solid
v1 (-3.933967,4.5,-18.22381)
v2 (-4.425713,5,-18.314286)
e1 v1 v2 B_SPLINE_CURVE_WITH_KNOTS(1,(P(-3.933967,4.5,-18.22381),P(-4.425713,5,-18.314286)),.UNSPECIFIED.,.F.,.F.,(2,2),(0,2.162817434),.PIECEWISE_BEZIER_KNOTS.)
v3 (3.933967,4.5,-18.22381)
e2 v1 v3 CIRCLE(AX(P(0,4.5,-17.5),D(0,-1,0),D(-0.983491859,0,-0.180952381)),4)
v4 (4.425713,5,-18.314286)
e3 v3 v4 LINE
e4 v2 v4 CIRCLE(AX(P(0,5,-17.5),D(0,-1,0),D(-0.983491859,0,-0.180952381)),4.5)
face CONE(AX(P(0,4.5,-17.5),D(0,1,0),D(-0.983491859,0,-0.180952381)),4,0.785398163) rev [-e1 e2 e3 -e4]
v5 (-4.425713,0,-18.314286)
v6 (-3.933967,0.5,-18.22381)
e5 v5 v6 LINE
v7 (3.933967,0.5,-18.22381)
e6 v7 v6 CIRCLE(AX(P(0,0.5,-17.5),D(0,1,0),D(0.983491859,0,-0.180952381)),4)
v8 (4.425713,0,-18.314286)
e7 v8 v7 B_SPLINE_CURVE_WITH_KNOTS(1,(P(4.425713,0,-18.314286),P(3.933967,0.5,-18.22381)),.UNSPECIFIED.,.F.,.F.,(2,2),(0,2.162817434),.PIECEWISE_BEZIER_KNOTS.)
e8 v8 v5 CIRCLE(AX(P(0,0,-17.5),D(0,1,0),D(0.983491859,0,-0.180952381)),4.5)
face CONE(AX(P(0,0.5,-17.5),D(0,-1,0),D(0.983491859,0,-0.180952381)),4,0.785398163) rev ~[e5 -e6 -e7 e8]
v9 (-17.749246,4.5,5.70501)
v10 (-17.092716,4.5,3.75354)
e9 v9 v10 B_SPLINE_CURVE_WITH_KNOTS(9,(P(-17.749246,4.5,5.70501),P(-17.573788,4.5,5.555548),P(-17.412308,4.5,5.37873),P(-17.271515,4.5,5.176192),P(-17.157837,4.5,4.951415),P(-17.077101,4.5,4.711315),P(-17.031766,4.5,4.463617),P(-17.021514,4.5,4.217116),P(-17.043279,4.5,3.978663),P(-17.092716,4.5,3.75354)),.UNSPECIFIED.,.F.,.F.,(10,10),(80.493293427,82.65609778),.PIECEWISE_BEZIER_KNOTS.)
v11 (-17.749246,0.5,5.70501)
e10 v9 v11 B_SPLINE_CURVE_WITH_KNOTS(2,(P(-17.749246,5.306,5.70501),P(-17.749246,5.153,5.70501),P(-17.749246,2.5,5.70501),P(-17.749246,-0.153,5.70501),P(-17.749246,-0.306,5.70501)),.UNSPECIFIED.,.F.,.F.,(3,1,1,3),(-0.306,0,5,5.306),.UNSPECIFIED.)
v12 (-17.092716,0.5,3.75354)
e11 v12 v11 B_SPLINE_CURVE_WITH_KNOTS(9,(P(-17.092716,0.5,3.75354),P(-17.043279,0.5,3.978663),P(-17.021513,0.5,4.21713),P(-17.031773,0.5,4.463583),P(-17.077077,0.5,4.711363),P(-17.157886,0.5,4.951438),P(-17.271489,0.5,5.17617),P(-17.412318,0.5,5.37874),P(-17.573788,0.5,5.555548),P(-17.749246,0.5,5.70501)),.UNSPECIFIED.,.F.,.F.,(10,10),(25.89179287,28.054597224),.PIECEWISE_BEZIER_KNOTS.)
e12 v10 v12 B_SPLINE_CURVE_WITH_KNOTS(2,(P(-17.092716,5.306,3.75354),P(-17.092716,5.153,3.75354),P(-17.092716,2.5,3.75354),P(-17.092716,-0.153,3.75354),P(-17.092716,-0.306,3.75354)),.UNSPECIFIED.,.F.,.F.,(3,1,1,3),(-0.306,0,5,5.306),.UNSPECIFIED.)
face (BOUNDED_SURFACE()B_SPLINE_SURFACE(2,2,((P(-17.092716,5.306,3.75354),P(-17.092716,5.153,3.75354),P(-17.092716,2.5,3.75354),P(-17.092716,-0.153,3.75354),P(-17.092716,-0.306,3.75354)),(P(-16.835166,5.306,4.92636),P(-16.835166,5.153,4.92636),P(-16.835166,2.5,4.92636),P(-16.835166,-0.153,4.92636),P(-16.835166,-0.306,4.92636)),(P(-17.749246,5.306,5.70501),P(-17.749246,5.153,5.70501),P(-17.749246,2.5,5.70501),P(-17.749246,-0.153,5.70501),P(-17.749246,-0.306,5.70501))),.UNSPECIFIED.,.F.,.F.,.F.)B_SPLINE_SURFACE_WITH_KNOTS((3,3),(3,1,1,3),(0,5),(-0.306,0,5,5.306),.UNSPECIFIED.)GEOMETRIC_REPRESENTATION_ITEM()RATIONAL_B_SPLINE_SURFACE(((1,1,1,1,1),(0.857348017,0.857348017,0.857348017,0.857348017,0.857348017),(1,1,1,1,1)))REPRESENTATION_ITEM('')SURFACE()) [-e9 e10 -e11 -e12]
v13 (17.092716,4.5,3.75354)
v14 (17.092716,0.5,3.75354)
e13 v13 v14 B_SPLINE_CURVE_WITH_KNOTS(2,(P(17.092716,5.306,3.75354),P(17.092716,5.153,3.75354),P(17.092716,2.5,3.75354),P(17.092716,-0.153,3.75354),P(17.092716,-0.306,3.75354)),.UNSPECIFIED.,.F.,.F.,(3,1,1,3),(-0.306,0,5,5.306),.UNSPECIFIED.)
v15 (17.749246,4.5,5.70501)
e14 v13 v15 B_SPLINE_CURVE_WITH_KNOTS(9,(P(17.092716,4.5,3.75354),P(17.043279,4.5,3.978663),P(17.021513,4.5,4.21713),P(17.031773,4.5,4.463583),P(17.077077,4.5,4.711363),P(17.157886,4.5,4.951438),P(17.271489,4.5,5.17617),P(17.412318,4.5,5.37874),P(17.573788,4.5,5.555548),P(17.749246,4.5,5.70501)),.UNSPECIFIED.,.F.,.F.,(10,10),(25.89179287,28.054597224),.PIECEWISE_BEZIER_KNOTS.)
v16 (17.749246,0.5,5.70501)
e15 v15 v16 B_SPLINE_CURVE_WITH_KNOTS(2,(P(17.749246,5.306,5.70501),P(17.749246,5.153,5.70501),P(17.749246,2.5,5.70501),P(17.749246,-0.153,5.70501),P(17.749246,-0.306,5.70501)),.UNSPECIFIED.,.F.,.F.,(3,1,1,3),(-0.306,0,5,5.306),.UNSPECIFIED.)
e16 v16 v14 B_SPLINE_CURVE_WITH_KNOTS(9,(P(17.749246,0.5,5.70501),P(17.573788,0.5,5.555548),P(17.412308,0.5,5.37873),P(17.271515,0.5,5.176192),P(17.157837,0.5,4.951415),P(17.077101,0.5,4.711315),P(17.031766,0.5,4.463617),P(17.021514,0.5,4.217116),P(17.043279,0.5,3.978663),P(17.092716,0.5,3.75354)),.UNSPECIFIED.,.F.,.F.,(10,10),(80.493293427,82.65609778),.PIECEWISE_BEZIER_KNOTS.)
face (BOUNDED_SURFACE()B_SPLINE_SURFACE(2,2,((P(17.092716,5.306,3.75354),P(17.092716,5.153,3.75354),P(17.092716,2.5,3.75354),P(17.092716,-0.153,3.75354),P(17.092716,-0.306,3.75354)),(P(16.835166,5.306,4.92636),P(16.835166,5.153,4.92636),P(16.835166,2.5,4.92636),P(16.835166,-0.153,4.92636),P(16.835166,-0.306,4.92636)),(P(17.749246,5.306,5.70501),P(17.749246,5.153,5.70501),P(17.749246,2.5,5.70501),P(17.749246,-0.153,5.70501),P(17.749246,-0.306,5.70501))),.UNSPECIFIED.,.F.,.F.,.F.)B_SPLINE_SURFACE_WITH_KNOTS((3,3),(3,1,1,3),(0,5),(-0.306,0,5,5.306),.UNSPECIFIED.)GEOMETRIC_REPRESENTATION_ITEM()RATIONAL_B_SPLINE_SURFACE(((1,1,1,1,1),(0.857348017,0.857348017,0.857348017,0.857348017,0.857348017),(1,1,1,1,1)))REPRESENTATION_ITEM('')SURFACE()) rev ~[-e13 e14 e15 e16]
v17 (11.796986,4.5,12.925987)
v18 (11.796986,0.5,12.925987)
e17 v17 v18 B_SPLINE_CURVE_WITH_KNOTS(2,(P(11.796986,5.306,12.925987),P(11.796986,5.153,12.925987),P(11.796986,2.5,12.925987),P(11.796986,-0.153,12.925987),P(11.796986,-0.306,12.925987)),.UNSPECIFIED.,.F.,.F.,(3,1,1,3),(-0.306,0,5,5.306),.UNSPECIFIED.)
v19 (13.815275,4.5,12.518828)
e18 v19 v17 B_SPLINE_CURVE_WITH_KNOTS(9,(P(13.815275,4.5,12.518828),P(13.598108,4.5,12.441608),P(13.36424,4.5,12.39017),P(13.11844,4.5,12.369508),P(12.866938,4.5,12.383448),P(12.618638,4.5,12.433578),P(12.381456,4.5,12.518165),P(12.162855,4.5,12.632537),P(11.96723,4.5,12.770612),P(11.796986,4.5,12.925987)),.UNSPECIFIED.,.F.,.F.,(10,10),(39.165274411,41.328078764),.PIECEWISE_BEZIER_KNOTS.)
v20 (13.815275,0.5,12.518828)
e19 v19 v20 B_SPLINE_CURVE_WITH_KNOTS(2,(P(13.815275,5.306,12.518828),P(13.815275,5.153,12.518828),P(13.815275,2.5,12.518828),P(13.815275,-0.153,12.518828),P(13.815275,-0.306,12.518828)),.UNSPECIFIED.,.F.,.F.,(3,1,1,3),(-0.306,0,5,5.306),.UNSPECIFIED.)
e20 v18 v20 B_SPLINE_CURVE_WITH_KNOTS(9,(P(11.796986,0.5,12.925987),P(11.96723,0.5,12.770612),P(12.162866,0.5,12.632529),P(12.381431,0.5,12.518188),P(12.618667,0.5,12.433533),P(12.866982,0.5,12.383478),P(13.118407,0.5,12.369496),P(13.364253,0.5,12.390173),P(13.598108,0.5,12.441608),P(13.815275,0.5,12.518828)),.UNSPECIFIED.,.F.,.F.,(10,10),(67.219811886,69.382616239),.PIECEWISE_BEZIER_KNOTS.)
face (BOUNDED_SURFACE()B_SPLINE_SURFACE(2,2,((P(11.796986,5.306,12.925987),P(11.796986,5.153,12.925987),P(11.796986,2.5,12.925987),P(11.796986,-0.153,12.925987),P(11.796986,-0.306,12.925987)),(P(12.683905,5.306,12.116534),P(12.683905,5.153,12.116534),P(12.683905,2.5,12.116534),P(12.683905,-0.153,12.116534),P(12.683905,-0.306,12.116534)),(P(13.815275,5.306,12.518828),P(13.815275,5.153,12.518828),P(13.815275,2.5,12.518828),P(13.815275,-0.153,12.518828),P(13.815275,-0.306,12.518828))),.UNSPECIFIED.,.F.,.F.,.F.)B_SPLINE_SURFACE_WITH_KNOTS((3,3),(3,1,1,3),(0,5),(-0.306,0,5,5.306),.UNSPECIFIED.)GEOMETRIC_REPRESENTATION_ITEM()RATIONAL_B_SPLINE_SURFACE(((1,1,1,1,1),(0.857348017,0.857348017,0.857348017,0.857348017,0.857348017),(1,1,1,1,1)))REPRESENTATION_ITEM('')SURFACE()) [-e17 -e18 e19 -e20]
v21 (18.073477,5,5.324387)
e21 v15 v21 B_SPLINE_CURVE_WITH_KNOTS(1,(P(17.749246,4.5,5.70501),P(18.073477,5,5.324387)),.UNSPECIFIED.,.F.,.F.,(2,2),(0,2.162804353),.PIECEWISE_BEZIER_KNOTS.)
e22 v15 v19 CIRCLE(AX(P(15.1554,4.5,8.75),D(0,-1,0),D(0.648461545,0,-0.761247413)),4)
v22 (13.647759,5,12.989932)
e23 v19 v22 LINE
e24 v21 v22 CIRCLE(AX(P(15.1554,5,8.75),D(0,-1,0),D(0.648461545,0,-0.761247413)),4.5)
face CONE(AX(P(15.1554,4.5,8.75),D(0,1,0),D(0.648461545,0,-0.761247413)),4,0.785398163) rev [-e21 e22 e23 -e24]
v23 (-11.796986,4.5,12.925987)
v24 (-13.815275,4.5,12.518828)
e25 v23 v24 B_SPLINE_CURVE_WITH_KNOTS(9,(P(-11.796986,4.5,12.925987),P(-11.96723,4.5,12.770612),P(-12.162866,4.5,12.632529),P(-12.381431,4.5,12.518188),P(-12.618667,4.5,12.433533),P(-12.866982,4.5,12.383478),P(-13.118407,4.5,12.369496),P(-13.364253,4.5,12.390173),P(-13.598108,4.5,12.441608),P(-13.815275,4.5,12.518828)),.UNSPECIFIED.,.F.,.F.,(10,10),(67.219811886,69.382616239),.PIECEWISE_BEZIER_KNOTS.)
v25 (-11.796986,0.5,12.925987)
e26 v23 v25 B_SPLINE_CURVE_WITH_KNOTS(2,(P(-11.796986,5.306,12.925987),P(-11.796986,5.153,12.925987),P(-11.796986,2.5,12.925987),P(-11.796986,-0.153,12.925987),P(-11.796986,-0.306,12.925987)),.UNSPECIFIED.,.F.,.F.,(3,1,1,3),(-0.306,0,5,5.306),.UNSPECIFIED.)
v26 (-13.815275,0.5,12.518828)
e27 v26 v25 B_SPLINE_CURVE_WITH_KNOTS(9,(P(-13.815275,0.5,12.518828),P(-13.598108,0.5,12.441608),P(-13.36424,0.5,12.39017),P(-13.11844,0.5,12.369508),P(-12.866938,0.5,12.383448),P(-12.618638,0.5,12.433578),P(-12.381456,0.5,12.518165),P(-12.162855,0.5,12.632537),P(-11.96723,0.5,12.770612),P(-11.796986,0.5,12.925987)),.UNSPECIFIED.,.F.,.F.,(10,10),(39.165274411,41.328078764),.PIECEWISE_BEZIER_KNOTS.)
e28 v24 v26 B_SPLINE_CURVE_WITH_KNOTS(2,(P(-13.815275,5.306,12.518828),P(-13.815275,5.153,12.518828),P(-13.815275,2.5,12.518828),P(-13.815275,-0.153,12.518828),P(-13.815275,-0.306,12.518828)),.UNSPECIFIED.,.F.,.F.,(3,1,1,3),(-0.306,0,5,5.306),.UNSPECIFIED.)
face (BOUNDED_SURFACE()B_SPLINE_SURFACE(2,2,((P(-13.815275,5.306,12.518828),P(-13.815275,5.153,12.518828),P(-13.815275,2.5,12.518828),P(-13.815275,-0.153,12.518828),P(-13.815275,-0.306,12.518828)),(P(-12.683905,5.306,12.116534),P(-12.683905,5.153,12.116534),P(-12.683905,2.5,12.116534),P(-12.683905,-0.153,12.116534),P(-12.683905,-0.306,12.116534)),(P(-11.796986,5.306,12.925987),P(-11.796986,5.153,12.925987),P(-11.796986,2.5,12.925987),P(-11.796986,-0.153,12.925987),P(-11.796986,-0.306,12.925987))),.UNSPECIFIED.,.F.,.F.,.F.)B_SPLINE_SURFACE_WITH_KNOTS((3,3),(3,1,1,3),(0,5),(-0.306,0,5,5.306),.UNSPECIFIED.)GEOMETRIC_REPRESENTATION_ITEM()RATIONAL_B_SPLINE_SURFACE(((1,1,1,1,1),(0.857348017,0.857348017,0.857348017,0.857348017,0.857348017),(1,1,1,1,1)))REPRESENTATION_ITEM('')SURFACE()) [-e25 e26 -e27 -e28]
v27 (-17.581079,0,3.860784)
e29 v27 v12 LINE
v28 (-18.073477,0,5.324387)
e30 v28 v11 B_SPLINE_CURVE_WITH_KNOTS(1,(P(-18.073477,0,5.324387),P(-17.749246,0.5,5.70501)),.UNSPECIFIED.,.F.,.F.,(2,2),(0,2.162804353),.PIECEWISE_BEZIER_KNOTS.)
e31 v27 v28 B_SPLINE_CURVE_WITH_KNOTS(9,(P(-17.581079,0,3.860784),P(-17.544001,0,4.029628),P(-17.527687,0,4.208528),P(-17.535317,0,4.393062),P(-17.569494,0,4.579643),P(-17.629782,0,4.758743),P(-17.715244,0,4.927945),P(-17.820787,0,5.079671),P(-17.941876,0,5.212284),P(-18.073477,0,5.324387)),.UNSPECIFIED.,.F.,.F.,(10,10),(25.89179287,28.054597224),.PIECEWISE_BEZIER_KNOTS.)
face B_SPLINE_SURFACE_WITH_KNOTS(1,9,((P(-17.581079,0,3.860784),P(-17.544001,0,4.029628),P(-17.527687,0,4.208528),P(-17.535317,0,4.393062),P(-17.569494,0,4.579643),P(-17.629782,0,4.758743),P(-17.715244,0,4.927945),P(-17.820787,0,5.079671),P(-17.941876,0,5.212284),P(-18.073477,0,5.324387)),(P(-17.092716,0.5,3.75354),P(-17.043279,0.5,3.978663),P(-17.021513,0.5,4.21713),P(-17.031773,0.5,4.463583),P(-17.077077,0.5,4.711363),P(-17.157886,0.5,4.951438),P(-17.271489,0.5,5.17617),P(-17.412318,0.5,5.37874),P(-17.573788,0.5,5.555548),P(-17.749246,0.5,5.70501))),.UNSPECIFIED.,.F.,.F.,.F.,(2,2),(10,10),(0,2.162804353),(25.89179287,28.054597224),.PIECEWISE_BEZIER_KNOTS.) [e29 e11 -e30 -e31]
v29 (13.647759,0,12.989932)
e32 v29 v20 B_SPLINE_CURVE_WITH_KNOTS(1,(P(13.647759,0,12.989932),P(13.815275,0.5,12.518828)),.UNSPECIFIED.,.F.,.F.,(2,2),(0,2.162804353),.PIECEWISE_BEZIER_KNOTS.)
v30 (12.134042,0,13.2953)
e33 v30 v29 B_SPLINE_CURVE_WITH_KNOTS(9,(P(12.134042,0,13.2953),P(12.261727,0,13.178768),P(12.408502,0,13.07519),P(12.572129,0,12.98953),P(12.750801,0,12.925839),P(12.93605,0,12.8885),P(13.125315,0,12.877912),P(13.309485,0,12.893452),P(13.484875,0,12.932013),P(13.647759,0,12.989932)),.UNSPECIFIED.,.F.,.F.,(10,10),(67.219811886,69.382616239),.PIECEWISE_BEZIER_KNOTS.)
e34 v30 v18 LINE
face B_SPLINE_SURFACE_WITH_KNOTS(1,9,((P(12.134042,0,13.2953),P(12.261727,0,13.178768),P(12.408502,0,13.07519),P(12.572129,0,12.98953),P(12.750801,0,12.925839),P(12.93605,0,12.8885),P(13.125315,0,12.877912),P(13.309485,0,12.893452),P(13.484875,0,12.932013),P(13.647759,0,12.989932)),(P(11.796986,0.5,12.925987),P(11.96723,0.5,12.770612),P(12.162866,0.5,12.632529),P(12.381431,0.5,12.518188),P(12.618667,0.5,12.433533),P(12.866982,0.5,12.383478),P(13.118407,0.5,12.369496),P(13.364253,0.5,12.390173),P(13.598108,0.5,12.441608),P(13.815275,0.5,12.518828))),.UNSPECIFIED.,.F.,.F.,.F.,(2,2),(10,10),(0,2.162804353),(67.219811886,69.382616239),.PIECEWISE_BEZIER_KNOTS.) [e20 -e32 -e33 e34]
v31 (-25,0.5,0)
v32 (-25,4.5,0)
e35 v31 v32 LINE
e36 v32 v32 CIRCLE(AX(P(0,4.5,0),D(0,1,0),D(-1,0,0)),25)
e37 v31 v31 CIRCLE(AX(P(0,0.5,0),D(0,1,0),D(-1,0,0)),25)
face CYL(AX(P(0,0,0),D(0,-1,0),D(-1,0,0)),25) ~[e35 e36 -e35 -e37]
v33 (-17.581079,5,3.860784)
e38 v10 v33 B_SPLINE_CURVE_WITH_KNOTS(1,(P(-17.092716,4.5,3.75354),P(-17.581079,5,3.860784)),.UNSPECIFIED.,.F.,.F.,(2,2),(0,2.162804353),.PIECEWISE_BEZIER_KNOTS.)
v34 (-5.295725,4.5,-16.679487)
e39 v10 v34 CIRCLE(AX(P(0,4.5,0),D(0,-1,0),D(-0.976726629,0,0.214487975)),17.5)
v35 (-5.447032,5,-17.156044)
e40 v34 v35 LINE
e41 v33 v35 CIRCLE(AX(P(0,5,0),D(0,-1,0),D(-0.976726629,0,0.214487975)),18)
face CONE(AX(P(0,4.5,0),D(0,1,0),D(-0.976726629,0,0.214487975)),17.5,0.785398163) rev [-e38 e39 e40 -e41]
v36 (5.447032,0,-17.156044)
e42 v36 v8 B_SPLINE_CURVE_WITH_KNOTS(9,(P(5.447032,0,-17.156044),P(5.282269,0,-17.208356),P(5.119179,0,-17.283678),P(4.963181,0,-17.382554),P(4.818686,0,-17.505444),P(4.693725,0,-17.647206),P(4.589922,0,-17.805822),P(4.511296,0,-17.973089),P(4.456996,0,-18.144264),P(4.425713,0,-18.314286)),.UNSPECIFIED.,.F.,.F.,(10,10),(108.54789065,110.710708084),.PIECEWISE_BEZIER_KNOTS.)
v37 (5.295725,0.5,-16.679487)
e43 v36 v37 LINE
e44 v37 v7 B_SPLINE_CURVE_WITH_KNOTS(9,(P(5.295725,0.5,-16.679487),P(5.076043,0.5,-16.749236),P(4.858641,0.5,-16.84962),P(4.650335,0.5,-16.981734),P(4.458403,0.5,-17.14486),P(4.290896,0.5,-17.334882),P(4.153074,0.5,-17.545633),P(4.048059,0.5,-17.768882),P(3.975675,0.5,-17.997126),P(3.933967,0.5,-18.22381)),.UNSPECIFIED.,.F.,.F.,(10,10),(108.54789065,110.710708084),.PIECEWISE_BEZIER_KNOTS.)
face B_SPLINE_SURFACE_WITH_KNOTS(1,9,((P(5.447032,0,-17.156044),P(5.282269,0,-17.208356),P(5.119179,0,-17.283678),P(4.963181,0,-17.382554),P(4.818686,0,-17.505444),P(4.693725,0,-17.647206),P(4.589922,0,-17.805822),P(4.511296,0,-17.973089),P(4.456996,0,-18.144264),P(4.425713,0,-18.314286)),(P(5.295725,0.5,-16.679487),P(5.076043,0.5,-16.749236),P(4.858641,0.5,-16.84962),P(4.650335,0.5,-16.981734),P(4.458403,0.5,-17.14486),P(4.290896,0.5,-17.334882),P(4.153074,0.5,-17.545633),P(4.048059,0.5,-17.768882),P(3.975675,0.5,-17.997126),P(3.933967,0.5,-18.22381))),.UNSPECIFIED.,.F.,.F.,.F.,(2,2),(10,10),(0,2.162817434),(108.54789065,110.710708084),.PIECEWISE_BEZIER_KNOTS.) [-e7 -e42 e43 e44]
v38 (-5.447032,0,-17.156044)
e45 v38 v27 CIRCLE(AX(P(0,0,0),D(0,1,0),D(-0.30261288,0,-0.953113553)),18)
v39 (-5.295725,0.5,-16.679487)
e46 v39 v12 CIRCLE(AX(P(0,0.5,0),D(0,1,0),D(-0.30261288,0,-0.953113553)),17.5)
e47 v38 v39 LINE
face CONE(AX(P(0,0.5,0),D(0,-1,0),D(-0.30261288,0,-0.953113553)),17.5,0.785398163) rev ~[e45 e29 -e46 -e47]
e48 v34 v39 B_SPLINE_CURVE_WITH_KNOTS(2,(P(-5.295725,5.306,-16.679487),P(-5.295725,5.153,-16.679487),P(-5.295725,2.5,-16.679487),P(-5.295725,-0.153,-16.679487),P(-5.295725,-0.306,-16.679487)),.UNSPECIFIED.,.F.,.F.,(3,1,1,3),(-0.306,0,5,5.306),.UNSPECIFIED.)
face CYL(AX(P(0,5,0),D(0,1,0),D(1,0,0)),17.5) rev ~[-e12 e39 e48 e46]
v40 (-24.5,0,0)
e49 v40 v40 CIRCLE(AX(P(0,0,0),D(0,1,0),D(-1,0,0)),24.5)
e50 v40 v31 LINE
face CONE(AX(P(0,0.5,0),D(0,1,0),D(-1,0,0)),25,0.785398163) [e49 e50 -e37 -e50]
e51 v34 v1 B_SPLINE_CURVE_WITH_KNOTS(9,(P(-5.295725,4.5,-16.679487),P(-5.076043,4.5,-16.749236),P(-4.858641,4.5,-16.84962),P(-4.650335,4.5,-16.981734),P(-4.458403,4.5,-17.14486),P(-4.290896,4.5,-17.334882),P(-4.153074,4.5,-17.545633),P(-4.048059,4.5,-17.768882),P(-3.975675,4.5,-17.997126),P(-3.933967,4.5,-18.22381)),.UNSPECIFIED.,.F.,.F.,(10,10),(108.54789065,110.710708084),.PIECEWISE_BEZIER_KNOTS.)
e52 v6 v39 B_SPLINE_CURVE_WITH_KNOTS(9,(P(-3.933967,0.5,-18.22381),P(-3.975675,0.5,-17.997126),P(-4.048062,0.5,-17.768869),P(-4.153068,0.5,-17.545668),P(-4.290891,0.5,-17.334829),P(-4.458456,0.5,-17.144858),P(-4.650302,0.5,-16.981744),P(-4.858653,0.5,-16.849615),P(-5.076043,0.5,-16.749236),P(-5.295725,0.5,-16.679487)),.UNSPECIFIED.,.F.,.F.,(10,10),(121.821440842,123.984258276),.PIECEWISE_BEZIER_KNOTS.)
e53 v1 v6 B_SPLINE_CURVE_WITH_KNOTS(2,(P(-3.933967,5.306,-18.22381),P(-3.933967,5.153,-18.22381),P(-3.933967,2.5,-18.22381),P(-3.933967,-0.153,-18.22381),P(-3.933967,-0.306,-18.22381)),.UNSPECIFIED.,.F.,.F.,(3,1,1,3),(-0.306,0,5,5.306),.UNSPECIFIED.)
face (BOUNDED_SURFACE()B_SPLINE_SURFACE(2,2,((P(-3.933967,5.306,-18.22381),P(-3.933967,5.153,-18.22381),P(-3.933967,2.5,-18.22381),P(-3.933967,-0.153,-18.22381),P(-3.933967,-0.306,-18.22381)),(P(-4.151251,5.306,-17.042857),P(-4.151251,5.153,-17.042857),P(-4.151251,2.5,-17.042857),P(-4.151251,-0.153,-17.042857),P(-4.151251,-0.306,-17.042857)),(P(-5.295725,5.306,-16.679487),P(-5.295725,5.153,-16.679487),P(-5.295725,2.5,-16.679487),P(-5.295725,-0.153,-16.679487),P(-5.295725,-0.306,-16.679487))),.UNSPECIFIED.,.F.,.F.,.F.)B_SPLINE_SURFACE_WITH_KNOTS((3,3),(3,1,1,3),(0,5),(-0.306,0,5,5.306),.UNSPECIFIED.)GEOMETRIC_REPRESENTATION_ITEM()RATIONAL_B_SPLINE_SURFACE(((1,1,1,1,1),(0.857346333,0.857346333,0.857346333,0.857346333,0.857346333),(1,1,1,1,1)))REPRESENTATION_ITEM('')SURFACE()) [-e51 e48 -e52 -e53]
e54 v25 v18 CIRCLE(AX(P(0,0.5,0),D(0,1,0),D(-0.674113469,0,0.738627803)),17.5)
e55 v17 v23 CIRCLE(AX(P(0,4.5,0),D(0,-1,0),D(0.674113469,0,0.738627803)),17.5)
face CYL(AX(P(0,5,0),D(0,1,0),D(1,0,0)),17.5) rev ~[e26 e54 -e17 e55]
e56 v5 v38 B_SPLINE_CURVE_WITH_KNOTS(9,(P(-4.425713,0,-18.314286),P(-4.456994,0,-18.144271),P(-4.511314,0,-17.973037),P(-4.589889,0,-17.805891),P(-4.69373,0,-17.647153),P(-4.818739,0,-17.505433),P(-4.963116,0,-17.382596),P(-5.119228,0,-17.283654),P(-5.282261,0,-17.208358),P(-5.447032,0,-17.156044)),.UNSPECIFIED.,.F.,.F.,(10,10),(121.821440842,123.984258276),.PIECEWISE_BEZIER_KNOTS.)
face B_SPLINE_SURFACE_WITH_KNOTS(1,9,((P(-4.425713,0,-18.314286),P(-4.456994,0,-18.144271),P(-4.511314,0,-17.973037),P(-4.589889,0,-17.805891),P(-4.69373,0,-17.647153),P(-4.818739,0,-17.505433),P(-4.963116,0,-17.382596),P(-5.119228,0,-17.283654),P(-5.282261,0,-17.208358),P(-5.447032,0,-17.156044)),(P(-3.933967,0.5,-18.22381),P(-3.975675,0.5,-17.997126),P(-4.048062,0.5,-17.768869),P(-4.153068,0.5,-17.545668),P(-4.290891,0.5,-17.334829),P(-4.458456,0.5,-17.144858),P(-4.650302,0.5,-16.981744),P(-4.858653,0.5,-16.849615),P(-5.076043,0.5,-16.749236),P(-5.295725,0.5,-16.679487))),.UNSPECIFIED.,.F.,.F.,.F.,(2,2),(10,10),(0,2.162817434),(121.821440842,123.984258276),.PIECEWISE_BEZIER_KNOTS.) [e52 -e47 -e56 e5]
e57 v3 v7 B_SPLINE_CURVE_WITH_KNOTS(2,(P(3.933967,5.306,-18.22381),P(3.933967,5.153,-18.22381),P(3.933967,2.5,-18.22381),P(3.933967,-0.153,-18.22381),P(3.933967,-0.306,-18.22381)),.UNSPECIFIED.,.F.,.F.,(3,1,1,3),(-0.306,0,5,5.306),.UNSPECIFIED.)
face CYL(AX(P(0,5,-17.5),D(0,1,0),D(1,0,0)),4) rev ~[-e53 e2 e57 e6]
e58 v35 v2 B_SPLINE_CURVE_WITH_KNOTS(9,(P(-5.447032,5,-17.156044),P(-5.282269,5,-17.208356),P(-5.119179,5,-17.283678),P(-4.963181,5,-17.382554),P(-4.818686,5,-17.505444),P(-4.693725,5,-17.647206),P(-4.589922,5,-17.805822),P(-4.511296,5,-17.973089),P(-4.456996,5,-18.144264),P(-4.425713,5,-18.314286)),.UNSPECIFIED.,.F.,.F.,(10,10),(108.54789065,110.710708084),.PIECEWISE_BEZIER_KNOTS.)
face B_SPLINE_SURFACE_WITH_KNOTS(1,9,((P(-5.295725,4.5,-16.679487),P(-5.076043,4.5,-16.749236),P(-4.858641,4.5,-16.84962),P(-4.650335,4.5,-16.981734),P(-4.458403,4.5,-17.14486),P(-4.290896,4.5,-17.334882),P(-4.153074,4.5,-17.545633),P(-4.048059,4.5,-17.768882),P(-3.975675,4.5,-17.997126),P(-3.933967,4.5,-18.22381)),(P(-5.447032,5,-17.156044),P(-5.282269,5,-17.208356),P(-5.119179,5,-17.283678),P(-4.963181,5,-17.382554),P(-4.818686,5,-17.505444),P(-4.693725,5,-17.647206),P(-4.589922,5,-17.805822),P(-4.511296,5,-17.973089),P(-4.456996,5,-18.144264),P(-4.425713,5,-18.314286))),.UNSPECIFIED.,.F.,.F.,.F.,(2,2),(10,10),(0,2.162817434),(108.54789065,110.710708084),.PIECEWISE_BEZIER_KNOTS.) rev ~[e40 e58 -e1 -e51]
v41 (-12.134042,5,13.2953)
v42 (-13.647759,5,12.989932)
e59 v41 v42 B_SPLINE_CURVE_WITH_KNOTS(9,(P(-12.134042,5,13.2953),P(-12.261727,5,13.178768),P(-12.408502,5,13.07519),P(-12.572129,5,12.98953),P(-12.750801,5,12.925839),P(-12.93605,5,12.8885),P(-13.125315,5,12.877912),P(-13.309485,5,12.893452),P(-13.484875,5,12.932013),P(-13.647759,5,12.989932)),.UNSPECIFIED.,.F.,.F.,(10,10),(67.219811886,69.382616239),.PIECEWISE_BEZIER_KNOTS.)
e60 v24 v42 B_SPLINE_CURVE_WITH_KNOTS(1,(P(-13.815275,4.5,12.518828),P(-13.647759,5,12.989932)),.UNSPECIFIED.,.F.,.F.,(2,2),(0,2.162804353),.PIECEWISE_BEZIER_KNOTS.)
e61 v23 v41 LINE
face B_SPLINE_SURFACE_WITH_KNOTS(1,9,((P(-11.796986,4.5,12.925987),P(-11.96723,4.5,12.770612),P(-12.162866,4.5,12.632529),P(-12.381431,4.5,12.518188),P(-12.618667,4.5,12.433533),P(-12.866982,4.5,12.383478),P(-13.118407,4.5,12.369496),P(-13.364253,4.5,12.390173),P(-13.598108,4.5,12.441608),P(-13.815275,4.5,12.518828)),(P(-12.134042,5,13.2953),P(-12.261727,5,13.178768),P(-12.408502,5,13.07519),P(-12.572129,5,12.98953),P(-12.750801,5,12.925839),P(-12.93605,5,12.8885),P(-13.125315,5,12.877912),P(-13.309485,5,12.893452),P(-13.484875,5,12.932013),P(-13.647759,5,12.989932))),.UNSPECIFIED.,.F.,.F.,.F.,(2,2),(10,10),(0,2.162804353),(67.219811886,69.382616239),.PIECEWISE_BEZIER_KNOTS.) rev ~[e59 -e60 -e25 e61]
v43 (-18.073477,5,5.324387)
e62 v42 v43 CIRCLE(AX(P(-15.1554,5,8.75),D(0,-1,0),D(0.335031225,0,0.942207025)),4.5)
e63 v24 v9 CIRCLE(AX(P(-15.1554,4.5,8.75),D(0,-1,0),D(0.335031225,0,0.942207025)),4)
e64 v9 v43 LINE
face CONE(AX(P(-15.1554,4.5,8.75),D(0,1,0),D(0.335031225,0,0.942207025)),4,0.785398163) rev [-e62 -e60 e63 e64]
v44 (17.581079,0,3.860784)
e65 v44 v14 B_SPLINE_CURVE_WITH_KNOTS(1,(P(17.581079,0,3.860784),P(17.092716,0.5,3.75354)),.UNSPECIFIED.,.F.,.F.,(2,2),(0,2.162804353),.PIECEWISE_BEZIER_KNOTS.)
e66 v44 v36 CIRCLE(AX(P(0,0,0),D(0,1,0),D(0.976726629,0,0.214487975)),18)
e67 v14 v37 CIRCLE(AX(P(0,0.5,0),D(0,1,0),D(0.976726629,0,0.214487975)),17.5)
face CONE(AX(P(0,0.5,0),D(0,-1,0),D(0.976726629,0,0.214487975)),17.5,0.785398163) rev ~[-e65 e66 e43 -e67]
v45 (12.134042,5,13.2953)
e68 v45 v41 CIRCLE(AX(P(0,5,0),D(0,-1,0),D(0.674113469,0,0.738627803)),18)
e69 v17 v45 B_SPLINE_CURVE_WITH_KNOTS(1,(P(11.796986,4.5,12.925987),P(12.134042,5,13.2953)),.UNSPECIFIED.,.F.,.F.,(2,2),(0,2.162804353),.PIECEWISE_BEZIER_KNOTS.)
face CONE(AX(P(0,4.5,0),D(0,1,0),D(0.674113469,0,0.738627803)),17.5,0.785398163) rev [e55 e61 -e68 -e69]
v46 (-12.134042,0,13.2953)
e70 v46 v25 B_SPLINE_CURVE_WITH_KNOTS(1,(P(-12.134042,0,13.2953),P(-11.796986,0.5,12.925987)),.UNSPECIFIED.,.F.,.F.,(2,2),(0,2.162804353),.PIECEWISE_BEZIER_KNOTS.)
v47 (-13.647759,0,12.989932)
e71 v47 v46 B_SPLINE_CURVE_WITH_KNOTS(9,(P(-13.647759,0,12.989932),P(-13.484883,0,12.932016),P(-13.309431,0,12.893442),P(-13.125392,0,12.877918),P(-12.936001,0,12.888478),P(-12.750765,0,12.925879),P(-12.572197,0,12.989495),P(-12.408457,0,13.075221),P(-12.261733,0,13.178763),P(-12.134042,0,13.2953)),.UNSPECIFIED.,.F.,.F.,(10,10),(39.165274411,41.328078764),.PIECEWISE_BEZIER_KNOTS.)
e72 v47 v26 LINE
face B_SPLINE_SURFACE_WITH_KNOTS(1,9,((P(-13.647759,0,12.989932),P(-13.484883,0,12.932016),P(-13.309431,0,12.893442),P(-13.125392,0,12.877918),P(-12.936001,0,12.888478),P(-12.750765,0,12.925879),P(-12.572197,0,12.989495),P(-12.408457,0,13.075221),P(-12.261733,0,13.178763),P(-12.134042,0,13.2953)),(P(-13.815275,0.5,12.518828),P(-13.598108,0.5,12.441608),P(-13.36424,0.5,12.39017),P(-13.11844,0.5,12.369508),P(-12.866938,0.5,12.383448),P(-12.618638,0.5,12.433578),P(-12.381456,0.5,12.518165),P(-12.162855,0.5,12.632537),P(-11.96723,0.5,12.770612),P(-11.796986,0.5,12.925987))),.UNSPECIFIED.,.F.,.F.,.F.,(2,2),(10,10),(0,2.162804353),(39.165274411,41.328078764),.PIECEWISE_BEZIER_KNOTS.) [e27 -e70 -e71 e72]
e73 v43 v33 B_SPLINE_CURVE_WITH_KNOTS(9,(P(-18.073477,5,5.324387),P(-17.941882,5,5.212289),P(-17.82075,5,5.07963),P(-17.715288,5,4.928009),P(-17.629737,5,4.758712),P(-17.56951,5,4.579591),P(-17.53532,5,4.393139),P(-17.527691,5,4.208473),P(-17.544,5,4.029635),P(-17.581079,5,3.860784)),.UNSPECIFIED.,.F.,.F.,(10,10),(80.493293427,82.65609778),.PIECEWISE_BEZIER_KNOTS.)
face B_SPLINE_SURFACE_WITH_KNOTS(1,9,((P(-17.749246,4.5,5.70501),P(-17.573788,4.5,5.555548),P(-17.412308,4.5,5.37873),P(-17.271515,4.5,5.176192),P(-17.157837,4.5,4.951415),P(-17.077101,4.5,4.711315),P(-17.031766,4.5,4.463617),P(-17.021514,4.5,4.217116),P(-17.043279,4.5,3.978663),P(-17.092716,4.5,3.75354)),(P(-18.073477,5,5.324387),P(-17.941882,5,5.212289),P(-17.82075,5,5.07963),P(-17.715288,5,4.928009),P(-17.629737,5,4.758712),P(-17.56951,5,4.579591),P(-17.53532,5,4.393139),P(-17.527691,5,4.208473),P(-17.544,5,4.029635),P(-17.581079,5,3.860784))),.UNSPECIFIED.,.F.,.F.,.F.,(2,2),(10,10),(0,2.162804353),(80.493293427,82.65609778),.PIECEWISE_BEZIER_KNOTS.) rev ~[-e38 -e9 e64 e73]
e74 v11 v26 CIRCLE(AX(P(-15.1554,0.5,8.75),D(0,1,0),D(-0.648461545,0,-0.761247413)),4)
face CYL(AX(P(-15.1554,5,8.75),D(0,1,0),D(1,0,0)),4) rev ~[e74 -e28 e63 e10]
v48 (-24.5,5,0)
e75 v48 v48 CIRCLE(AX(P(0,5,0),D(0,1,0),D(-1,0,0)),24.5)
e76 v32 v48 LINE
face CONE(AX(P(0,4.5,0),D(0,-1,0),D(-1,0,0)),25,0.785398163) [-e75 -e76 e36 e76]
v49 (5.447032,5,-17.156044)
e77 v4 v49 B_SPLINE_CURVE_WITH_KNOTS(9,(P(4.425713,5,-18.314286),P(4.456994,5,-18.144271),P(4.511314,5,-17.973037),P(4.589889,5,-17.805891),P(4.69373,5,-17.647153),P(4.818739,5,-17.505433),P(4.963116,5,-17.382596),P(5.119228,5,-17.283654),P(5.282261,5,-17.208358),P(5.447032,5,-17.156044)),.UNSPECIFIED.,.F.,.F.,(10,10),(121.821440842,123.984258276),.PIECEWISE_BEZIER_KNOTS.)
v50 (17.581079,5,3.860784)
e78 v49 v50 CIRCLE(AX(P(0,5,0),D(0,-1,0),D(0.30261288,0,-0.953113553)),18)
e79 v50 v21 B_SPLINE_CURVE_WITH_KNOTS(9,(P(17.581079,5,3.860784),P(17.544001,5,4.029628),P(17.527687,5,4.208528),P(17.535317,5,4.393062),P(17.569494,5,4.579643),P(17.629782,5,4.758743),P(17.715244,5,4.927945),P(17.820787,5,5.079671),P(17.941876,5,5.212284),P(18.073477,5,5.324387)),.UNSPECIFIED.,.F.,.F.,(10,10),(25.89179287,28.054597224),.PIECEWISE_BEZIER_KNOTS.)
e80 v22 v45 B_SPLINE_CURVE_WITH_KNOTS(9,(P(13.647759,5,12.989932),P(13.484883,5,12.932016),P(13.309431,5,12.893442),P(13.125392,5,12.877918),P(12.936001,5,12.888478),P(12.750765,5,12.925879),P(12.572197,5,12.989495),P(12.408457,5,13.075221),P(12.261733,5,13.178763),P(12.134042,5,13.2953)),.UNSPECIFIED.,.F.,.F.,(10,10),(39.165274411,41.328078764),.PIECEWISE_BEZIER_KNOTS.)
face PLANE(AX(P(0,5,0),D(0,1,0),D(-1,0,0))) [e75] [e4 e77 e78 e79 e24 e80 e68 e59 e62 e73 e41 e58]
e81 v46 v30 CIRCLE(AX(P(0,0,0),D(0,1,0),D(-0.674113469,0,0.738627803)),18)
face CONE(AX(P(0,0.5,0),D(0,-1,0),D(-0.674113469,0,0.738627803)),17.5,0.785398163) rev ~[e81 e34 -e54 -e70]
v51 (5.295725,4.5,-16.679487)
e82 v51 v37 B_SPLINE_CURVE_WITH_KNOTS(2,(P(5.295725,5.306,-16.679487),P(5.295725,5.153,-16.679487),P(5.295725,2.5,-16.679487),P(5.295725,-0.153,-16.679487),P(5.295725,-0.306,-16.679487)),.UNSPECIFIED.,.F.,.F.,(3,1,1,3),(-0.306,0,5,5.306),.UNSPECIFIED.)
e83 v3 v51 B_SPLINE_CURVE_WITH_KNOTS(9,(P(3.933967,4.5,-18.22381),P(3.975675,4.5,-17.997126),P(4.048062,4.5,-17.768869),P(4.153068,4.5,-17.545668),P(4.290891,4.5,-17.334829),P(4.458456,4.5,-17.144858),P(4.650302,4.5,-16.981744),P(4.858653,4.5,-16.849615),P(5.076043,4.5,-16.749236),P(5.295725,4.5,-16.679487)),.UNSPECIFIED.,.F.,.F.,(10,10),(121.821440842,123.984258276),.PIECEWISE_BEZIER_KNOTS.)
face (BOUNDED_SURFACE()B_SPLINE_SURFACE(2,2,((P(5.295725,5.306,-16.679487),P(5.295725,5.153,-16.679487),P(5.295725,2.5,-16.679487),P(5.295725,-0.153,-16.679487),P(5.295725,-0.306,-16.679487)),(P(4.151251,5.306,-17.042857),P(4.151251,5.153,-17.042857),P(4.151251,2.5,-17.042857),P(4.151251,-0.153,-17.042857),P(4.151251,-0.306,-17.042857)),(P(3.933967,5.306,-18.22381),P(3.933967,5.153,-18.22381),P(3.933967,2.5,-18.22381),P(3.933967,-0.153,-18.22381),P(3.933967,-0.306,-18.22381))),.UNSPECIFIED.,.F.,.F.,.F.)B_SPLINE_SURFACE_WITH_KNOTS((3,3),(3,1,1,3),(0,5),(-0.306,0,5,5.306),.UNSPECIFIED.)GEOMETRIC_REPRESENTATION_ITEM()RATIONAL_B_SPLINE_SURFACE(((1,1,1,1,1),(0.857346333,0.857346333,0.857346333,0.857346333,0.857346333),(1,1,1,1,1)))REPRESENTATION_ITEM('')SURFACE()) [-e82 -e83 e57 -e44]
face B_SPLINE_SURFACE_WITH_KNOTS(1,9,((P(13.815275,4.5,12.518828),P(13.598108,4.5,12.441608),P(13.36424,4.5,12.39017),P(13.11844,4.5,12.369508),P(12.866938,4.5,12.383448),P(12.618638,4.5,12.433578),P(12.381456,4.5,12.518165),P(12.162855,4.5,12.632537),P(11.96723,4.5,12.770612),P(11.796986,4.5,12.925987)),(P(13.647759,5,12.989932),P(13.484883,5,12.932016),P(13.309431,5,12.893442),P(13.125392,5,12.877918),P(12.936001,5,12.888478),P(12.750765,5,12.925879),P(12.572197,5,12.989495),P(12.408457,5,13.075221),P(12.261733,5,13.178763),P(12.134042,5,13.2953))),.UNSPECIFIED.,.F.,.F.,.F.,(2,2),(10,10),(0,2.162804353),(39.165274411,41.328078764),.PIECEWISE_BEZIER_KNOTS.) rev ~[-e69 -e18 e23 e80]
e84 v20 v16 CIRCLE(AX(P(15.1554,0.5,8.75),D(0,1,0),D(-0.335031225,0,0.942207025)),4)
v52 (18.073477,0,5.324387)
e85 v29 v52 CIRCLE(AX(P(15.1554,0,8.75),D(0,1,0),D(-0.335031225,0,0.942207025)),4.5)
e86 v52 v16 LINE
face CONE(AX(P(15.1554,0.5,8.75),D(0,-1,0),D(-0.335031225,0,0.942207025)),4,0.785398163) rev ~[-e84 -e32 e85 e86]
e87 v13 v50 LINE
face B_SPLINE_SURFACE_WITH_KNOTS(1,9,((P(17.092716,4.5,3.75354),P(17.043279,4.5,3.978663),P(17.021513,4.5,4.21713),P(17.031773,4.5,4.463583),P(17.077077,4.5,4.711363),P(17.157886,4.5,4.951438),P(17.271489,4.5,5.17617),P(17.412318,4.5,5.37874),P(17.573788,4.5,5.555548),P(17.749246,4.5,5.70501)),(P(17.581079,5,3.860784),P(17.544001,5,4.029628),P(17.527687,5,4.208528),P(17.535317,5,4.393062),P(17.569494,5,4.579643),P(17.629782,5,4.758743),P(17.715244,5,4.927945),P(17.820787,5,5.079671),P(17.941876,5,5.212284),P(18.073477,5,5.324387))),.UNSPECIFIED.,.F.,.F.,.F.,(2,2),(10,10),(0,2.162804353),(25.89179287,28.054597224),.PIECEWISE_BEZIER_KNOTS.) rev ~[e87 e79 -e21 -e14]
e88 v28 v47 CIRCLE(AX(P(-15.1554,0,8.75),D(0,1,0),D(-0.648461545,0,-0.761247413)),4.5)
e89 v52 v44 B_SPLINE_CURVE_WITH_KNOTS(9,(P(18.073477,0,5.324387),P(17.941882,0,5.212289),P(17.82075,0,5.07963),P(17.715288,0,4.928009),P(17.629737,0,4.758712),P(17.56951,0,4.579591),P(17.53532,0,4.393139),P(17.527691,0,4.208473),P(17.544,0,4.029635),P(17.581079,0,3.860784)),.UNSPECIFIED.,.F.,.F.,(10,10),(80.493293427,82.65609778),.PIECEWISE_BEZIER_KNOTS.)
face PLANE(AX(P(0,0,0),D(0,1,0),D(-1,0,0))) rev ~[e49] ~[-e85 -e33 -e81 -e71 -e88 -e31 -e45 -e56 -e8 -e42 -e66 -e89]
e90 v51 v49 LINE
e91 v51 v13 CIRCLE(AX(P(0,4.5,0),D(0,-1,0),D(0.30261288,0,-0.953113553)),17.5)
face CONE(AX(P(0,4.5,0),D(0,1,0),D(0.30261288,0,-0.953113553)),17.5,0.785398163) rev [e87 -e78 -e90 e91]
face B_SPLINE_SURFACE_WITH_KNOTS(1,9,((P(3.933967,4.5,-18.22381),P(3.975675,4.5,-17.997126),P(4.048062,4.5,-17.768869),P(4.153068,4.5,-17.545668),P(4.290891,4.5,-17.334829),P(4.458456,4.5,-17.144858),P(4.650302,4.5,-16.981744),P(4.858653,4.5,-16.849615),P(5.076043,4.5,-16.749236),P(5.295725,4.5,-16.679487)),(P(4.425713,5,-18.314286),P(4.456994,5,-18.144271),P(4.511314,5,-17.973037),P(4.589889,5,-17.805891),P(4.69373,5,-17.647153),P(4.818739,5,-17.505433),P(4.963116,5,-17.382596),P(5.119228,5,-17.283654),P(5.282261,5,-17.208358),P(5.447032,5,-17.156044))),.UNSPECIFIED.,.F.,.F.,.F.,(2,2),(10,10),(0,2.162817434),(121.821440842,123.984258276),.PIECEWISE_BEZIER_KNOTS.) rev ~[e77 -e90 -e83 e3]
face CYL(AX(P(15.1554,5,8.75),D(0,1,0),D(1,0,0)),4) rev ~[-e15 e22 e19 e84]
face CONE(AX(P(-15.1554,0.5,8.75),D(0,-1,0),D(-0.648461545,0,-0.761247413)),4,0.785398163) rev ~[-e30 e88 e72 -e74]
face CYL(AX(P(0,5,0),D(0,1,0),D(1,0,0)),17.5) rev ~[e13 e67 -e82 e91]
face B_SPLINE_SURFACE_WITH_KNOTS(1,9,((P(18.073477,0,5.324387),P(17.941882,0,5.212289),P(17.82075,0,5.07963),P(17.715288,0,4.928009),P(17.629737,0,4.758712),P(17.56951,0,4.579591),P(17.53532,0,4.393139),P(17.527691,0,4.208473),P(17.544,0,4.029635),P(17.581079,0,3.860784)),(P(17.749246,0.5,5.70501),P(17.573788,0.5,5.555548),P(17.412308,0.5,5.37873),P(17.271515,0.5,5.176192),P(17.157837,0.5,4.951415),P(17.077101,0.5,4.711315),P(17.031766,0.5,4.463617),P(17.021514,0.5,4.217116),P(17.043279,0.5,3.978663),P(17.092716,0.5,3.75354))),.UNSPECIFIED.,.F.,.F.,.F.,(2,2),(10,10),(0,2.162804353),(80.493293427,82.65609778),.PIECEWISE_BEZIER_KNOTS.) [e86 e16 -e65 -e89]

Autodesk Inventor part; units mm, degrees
ref_plane "YZ Plane" through (0, 0, 0) normal (1, 0, 0) x (0, 1, 0)
ref_plane "XZ Plane" through (0, 0, 0) normal (0, 1, 0) x (-1, 0, 0)
ref_plane "XY Plane" through (0, 0, 0) normal (0, 0, 1) x (1, 0, 0)
sketch "スケッチ1" plane through (0, 0, 0) normal (0, 1, 0) x (-1, 0, 0)
  circle A0 centre (0, 0) radius 25
  dimension "d0" = 50
extrude "押し出し1" add sketch "スケッチ1" along normal blind 5
sketch "スケッチ4" plane through (0, 5, 0) normal (0, 1, 0) x (1, 0, 0)
  circle A0 centre (0, 0) radius 17.5
  dimension "d9" = 35
extrude "押し出し4" cut sketch "スケッチ4" against normal through all
sketch "スケッチ8" plane through (0, 5, 0) normal (0, 1, 0) x (1, 0, 0)
  circle A0 centre (0, 0) radius 17.5 projected
  circle A1 centre (0, 17.5) radius 4
  circle A2 centre (-15.1554, -8.75) radius 4
  circle A3 centre (15.1554, -8.75) radius 4
  point P0 (-12.7727, -11.9628)
  point P1 (-16.7464, -5.08)
  point P2 (12.7727, -11.9628)
  point P3 (16.7464, -5.08)
  point P4 (3.9738, 17.0429)
  point P5 (-3.9738, 17.0429)
  dimension "d43" = 8
  dimension "d46" = 360
extrude "押し出し8" cut sketch "スケッチ8" against normal through all contours A0 A1 | A3 A0 | A0 A2 picked at (-0.0763, 18.7972) picked at (16.3019, -9.3615) picked at (-16.2807, -9.3997)
fillet "フィレット2" radius 2 6 edges at (-16.7464, 2.5, 5.08) (-12.7727, 2.5, 11.9628) (3.9738, 2.5, -17.0429) (-3.9738, 2.5, -17.0429) (16.7464, 2.5, 5.08) (12.7727, 2.5, 11.9628)
chamfer "面取り2" distance 0.5 angle 45 26 edges at (25, 5, 0) (15.1554, 5, -8.75) (-15.1554, 5, -8.75) (0, 5, 17.5) (17.1506, 5, 4.8202) (12.7497, 5, 12.4427) (18.6195, 5, 10.75) (-17.1506, 5, 4.8202) (-12.7497, 5, 12.4427) (-18.6195, 5, 10.75) (4.4009, 5, -17.263) (-4.4009, 5, -17.263) (0, 5, -21.5) (-15.1554, 0, -8.75) (-17.1506, 0, 4.8202) (-12.7497, 0, 12.4427) (-18.6195, 0, 10.75) (15.1554, 0, -8.75) (0, 0, 17.5) (17.1506, 0, 4.8202) (12.7497, 0, 12.4427) (18.6195, 0, 10.75) (4.4009, 0, -17.263) (-4.4009, 0, -17.263) (0, 0, -21.5) (25, 0, 0)
properties part number "B_probe_bearing_clamp" material "PAEK 樹脂"
